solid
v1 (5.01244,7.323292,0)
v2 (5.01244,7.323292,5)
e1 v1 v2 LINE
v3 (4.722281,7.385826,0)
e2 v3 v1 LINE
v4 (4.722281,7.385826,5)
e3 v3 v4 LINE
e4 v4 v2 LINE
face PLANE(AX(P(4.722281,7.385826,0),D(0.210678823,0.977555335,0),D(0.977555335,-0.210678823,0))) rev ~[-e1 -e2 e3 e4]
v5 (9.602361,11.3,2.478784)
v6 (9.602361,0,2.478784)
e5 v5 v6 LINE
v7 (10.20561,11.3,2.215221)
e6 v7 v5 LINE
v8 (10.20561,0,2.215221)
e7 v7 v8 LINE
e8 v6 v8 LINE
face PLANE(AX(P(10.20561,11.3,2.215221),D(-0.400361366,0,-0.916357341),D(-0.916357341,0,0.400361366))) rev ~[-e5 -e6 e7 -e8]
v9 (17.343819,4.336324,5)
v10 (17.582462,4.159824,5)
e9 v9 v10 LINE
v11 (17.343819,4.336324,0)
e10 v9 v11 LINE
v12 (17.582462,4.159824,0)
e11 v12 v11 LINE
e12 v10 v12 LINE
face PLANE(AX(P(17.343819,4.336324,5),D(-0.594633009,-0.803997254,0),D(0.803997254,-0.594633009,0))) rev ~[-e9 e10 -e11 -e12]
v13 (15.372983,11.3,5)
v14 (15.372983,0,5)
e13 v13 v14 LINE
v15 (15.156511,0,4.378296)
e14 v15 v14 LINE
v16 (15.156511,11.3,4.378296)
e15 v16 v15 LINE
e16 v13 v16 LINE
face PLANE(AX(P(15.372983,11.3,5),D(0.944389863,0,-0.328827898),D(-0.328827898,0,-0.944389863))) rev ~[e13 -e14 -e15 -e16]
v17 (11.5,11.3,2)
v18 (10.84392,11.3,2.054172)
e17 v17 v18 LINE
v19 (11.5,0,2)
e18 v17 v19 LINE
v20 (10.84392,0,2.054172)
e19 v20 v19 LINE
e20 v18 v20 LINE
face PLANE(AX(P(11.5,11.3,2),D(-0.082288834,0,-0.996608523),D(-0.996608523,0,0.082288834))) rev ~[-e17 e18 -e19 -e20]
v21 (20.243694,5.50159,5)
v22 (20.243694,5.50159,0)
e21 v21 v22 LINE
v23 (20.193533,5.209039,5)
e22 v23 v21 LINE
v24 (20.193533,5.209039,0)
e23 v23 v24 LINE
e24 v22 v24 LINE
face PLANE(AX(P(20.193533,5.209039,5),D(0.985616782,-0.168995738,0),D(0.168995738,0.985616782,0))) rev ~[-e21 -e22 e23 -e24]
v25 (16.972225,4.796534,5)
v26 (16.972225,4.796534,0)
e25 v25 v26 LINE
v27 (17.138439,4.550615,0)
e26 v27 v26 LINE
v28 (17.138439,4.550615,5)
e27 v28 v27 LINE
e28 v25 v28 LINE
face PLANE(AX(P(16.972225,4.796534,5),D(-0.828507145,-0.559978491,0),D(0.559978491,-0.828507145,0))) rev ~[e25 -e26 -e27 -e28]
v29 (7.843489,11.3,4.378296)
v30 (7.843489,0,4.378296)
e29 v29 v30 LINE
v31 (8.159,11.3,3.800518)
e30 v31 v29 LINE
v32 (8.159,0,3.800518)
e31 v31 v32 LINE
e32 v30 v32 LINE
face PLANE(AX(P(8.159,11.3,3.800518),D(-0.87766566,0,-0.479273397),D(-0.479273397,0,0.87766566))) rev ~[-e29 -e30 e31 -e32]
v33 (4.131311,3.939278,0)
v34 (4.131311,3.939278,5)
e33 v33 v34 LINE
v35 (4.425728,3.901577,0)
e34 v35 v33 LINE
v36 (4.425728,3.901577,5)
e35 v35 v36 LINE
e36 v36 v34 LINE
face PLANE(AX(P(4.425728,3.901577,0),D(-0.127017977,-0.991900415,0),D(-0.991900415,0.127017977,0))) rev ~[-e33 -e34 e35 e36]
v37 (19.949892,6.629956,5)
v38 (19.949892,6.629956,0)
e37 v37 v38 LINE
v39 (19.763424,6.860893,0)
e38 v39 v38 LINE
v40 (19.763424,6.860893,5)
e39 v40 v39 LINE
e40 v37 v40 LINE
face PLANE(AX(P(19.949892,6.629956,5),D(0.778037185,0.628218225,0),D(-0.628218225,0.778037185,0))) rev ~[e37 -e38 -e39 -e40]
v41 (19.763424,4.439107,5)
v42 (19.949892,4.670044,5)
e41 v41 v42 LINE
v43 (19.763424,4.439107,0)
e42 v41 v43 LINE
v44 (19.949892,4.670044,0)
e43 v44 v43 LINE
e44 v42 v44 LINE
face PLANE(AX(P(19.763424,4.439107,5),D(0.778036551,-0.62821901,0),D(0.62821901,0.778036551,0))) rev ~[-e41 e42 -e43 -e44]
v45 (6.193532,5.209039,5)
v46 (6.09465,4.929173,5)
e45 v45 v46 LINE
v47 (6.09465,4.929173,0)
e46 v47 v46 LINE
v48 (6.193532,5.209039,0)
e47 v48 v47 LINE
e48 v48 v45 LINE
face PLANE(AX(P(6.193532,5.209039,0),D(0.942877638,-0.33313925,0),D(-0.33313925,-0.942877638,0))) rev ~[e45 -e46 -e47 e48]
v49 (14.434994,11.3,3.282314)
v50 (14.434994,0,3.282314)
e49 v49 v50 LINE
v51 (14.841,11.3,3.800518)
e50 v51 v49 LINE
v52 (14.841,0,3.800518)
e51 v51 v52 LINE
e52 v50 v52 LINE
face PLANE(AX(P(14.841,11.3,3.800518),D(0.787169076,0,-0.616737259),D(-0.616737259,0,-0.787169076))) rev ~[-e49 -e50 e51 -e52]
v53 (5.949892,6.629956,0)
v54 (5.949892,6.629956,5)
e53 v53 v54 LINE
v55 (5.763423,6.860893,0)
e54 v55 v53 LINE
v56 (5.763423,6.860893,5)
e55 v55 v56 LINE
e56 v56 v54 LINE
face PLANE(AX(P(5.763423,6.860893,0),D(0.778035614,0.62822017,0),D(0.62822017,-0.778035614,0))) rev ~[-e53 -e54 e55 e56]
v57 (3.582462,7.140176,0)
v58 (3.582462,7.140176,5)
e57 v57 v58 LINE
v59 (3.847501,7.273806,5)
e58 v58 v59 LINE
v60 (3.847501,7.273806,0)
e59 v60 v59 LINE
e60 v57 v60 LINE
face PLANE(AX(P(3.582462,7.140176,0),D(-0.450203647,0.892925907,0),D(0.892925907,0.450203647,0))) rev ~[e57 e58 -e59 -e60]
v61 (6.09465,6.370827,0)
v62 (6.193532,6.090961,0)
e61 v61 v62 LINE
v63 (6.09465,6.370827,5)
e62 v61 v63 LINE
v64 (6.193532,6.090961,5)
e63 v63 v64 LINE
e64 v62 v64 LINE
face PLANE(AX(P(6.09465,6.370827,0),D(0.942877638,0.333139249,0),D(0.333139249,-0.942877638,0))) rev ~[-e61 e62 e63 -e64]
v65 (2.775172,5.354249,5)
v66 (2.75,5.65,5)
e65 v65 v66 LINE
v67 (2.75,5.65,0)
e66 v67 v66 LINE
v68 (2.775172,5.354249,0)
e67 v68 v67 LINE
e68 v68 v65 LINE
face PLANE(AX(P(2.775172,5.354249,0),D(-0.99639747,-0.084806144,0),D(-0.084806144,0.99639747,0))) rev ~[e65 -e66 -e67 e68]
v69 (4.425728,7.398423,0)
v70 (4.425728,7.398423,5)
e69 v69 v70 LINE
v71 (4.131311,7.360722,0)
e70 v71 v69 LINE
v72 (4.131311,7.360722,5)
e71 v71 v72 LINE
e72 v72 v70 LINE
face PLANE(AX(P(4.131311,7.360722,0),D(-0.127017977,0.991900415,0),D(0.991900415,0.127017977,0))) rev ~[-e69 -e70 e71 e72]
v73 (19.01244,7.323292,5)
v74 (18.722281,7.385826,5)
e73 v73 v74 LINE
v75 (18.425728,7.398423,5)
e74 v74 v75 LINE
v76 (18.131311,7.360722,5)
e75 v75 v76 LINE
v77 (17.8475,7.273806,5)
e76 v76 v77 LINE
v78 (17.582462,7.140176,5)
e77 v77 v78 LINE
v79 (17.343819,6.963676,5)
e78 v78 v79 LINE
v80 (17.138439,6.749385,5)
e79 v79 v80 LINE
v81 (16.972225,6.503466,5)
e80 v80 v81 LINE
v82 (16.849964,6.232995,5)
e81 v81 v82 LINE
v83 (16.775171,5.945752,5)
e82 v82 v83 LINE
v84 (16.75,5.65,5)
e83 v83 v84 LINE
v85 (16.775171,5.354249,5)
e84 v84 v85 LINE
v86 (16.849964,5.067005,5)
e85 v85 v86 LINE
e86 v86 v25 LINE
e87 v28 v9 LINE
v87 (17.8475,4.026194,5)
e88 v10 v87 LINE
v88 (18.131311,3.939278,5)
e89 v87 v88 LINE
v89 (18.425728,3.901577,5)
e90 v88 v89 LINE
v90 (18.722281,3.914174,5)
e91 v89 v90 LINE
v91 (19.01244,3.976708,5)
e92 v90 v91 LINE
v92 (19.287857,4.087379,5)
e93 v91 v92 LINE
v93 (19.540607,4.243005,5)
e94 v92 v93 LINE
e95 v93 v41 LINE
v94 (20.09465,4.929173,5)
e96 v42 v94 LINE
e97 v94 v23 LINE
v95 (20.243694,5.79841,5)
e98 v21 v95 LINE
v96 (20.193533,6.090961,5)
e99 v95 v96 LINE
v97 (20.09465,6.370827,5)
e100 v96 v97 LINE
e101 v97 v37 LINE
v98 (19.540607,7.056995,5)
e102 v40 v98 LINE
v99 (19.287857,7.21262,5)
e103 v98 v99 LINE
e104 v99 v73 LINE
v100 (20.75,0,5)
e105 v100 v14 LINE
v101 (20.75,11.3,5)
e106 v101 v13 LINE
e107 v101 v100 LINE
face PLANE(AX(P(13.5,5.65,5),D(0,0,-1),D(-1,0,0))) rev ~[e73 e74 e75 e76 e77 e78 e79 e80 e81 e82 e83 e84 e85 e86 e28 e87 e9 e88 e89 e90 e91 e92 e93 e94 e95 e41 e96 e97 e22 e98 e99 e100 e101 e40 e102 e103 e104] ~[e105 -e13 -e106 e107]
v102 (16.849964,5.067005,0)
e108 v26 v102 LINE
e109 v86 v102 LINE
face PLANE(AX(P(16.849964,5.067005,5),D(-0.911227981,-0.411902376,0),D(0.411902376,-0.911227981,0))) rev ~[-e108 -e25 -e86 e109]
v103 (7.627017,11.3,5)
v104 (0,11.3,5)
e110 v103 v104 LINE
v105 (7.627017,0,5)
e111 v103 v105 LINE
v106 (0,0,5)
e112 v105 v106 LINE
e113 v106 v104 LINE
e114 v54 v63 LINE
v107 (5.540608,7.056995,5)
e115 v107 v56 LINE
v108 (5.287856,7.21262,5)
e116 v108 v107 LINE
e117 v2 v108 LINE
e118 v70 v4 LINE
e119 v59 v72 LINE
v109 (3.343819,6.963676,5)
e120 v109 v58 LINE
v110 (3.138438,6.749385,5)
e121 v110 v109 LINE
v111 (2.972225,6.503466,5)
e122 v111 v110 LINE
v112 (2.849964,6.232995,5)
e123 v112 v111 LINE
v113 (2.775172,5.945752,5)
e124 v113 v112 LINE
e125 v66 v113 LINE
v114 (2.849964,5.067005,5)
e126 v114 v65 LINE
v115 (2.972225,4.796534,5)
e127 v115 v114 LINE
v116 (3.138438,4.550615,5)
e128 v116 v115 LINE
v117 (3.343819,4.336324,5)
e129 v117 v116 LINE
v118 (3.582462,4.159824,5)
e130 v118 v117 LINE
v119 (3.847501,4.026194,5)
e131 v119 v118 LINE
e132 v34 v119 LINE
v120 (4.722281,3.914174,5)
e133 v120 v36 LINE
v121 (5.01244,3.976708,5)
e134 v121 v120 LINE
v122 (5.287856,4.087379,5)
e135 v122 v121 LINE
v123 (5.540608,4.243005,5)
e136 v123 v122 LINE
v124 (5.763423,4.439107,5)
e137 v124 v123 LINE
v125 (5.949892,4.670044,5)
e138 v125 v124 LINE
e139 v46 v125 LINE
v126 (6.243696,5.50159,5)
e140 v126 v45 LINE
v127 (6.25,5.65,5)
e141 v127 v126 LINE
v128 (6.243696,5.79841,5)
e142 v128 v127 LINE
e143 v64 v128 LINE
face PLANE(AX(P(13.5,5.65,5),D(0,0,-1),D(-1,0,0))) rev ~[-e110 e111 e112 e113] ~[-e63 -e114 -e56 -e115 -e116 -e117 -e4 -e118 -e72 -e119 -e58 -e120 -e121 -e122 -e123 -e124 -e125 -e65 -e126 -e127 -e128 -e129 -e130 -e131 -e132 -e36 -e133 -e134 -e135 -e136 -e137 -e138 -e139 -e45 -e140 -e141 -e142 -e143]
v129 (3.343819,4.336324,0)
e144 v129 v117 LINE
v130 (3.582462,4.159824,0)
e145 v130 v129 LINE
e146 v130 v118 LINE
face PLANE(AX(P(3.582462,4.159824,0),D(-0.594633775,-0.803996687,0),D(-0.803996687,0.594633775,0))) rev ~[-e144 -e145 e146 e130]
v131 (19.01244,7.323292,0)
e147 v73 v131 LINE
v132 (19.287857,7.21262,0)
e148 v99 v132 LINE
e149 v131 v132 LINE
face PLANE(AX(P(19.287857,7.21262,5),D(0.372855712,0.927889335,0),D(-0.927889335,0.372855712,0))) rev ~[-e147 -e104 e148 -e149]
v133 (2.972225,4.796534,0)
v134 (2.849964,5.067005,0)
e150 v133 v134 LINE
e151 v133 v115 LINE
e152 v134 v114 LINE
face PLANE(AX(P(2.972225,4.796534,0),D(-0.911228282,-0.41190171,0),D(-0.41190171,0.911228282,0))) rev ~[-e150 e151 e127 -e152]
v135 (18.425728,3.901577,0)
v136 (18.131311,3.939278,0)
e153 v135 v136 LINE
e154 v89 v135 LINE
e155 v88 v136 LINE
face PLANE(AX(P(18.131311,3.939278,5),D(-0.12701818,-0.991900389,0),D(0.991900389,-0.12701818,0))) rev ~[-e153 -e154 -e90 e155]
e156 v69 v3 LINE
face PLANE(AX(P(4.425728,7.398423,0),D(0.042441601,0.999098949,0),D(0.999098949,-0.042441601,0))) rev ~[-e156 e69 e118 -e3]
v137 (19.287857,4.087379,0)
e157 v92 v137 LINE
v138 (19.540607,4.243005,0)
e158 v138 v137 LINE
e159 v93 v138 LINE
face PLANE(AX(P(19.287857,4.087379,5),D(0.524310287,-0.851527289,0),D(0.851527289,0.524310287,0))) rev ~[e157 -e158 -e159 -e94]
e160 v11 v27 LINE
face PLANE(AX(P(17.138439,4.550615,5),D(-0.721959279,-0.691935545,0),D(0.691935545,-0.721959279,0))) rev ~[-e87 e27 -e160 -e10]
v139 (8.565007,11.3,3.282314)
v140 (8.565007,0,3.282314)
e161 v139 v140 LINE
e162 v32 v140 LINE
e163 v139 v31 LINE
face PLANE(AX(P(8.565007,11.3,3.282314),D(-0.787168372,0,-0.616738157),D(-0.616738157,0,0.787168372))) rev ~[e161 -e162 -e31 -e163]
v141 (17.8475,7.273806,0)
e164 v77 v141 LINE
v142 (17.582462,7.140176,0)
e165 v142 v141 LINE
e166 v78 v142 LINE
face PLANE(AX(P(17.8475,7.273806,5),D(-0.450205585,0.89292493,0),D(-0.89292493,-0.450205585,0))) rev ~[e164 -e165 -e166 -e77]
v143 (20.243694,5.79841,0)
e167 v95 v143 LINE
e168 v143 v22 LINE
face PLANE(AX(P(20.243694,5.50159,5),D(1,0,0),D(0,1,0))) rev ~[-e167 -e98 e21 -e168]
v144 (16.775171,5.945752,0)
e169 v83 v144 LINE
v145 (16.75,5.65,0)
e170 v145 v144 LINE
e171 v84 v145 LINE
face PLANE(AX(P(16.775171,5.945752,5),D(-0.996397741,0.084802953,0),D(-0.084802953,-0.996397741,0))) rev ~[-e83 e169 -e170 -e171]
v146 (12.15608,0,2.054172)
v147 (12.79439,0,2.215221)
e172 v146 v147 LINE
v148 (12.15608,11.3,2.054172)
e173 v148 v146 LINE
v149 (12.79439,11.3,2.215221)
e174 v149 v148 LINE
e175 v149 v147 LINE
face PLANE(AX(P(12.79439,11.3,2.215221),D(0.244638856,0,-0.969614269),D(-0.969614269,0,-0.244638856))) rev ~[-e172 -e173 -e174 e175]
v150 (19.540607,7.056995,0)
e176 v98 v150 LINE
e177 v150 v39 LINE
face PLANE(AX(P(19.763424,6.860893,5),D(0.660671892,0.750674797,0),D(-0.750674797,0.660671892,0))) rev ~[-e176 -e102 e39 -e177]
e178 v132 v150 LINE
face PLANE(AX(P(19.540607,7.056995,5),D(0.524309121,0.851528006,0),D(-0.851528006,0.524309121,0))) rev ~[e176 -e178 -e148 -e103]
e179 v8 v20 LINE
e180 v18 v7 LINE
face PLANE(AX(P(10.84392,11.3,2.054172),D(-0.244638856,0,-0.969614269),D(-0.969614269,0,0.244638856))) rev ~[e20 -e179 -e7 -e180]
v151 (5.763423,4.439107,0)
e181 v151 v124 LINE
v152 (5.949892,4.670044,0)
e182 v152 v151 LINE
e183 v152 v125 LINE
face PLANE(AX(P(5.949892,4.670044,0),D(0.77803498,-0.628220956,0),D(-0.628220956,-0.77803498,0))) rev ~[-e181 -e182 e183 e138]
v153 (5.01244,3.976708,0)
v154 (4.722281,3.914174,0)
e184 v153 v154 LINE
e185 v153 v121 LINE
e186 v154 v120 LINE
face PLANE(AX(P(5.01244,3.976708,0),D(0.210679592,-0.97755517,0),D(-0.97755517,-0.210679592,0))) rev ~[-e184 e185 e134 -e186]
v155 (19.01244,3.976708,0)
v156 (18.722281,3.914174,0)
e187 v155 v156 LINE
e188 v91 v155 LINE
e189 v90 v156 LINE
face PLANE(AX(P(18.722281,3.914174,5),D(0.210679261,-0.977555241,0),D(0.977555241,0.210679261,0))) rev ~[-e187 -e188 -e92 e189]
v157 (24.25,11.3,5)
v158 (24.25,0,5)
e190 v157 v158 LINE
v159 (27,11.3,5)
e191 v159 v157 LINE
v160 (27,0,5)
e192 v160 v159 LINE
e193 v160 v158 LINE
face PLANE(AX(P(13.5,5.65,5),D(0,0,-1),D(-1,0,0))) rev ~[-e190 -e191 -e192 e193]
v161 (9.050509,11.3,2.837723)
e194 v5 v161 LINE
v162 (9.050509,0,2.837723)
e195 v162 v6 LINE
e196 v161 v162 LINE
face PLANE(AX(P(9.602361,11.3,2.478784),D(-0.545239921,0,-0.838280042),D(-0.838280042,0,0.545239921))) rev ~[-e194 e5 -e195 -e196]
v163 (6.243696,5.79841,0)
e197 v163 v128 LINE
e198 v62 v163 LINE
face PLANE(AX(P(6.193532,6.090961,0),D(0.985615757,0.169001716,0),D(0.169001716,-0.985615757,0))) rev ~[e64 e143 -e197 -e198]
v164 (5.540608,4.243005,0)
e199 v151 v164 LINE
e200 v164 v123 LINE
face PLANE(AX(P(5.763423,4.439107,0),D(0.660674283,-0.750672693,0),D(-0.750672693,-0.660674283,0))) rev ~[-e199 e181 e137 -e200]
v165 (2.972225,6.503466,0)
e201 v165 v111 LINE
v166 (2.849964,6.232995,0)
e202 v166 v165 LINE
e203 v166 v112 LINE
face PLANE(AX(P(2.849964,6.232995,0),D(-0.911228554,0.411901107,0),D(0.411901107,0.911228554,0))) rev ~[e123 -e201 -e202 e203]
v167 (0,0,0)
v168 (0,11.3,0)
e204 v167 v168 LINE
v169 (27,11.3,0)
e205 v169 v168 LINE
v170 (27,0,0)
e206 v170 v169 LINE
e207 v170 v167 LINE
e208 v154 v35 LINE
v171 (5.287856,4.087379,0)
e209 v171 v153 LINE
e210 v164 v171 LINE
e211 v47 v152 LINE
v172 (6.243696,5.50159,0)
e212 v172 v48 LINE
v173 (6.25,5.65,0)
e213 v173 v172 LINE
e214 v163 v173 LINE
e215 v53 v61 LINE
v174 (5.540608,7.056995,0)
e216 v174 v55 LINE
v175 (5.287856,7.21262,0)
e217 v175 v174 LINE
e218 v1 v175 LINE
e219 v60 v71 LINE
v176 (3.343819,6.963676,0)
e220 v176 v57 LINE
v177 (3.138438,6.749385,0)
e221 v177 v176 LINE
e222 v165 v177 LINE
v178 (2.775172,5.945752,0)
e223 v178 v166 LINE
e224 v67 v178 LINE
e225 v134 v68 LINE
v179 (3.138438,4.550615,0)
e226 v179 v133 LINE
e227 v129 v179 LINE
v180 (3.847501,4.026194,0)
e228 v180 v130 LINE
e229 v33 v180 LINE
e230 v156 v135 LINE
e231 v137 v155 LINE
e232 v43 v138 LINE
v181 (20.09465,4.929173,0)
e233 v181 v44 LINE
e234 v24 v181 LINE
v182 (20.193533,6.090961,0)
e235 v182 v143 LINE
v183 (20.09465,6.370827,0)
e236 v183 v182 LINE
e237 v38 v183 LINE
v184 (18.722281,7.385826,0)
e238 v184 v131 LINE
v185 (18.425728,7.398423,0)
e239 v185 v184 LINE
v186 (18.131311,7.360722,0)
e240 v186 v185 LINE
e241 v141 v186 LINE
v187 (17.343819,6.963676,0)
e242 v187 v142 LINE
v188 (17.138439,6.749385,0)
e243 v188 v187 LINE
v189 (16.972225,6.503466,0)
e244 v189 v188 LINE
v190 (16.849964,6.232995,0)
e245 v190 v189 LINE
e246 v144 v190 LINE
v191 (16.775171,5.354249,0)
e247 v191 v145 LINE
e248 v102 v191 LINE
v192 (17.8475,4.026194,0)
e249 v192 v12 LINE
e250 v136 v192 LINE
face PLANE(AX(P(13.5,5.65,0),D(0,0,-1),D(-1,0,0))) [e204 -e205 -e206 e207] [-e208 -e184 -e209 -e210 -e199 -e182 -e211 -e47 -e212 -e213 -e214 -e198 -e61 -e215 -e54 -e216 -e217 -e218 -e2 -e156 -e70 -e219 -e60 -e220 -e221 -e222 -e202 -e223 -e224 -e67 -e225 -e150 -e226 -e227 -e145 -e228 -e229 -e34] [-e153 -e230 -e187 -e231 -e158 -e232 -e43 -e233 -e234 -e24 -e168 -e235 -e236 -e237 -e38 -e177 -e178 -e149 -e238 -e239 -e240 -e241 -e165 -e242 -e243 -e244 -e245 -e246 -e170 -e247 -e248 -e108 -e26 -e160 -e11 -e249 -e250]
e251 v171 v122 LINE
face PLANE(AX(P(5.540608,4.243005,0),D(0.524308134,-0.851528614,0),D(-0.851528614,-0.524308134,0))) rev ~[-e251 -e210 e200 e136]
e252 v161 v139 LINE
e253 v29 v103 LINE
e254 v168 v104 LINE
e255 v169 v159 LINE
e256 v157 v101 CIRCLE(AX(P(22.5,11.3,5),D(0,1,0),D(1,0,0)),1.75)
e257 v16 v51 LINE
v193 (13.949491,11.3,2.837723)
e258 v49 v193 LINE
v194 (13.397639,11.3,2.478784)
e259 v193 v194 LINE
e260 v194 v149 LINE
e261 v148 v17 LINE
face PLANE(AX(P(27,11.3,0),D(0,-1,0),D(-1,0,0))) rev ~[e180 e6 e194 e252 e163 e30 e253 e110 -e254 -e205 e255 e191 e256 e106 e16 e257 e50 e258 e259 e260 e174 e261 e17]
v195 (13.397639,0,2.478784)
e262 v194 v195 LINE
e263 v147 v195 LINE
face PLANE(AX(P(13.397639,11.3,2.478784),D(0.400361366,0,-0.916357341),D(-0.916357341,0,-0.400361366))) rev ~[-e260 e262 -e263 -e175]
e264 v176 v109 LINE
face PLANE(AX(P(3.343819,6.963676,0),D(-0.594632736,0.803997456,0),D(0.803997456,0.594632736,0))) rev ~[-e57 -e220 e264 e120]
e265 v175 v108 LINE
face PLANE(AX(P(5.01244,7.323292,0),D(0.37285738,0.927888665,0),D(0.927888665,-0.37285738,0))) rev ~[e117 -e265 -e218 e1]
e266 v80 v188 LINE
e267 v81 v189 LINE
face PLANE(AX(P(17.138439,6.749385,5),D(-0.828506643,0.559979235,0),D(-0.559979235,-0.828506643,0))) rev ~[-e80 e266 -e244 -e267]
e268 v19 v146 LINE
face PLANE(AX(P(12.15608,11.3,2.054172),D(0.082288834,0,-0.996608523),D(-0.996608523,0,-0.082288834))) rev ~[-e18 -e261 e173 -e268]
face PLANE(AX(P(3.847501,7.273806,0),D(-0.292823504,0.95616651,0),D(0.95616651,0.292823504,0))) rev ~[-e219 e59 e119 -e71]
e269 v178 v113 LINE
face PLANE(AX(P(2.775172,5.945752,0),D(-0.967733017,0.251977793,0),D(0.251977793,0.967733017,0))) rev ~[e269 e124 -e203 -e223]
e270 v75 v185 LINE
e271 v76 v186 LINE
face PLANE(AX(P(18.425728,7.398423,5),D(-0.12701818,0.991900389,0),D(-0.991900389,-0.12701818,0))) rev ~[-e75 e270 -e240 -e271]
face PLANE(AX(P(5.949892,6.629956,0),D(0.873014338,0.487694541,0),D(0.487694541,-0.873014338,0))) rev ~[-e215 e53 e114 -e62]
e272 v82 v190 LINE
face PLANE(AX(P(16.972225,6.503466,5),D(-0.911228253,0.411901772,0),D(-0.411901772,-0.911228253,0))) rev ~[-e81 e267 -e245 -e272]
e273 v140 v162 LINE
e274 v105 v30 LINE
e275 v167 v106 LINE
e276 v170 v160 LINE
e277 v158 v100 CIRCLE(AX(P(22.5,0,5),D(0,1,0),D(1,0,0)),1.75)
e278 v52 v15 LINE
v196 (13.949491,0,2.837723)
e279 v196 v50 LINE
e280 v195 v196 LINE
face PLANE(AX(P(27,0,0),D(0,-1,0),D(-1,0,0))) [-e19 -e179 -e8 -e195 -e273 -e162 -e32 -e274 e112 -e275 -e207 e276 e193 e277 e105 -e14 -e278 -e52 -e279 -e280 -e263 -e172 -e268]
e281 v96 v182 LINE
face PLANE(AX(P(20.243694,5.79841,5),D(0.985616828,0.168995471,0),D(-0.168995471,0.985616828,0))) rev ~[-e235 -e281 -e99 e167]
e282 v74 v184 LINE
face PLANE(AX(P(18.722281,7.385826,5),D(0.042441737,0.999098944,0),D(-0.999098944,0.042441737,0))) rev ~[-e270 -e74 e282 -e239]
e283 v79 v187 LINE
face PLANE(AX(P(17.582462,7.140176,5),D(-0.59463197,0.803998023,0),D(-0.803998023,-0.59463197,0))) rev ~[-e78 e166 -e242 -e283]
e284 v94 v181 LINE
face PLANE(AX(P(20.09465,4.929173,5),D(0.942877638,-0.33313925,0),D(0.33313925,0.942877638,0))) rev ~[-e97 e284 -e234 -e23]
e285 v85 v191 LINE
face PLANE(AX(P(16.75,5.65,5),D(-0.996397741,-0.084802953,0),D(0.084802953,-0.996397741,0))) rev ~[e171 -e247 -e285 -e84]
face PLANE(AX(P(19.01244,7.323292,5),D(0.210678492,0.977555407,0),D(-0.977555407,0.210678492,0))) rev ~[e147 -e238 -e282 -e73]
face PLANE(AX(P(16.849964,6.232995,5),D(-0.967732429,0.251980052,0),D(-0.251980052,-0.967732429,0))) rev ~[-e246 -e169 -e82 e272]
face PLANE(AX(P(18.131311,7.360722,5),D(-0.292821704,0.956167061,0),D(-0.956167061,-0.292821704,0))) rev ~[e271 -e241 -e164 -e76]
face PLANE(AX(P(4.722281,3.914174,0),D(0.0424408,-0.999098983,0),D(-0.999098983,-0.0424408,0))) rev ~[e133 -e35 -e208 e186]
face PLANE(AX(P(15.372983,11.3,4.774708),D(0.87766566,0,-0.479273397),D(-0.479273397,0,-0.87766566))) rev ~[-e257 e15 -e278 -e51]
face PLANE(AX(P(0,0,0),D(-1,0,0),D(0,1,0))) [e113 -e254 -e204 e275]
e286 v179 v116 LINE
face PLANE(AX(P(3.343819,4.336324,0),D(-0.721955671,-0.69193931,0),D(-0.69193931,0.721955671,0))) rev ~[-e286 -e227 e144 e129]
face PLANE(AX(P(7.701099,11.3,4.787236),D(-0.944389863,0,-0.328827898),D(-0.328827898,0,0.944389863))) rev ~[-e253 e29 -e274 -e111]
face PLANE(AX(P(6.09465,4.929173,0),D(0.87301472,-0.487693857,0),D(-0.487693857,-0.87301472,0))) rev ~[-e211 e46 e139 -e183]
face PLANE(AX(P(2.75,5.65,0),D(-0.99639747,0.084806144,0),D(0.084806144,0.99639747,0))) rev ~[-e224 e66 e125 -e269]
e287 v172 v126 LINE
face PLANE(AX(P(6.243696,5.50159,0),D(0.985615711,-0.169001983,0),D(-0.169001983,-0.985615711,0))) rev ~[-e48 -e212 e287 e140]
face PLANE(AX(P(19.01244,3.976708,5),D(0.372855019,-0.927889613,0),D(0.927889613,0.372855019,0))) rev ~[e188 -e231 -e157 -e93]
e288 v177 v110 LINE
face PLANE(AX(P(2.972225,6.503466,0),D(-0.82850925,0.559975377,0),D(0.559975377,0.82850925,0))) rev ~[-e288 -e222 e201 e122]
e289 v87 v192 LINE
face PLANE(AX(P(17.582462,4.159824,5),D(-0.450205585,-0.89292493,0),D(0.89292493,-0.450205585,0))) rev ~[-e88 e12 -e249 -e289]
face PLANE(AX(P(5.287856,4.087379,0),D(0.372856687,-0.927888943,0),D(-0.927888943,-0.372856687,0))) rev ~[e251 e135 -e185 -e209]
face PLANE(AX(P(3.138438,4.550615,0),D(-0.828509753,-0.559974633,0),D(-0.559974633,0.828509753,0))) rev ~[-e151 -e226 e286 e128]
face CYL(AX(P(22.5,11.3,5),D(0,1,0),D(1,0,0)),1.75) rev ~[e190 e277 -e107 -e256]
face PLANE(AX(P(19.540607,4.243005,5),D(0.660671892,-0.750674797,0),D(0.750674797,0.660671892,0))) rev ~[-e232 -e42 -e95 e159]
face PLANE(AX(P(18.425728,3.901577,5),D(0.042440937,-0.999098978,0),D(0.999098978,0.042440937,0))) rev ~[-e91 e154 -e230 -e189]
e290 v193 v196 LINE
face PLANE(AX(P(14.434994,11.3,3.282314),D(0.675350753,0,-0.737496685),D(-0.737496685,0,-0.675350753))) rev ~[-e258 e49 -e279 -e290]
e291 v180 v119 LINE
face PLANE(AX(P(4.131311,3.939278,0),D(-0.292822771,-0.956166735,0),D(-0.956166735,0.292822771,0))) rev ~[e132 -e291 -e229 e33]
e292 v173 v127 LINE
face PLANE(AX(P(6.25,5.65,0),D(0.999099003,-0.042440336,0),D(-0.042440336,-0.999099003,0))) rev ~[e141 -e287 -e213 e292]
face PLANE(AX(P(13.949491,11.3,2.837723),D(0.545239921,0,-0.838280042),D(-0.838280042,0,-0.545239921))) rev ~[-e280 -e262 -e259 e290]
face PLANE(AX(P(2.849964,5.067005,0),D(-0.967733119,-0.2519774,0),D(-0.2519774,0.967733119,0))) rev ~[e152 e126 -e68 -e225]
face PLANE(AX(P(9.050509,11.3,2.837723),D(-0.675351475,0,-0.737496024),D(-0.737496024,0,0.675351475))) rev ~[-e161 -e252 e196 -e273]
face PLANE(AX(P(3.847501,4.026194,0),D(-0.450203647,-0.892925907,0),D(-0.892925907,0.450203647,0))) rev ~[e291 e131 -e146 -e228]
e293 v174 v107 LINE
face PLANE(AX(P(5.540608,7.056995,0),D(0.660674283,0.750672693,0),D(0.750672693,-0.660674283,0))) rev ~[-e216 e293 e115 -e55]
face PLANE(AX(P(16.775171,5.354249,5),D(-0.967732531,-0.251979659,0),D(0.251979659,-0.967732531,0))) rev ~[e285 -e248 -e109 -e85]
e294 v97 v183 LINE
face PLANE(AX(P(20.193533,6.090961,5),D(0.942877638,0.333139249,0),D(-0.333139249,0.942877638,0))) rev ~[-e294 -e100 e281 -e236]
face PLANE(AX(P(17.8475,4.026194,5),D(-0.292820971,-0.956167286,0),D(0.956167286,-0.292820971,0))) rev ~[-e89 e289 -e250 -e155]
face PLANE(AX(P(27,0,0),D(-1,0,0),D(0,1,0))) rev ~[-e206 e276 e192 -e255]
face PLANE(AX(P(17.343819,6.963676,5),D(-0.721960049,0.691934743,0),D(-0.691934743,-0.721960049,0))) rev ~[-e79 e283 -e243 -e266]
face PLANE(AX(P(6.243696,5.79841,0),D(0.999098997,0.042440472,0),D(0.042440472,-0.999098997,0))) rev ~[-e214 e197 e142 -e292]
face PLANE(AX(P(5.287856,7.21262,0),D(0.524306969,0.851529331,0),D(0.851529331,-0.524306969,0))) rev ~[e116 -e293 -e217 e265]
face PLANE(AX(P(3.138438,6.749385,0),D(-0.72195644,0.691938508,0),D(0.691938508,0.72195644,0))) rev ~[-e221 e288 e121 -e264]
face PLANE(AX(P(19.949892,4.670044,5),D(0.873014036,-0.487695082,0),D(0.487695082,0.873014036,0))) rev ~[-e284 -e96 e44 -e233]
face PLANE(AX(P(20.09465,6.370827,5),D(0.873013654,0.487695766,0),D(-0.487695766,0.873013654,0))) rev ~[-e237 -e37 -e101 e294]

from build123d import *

# Parameters (mm, degrees)
ESQUISSE1_W             = 27
ESQUISSE1_H             = 11.300000191
BOSS_EXTRU_1_DEPTH      = 5
ENL_V_MAT_EXTRU_1_DEPTH = 30.693265302
ENL_V_MAT_EXTRU_2_DEPTH = 30.693265302
ENL_V_MAT_EXTRU_3_DEPTH = 30.693265302
ENL_V_MAT_EXTRU_4_DEPTH = 30.693265302
D_POUILLE1_ANGLE        = 19.197649098
D_POUILLE2_ANGLE        = 19.197649098


with BuildPart() as part:
    # Esquisse1 → Boss.-Extru.1 (new body)
    with BuildSketch(Plane(origin=(0, 0, 0), x_dir=(-1, 0, 0), z_dir=(0, 0, -1))):
        with Locations((-13.5, 5.650000096)):
            Rectangle(ESQUISSE1_W, ESQUISSE1_H)
    extrude(amount=-BOSS_EXTRU_1_DEPTH)

    # Esquisse2 → Enlèv. mat.-Extru.1 (cut, through all)
    with BuildSketch(Plane(origin=(0, 11.300000191, 0), x_dir=(-1, 0, 0), z_dir=(0, 1, 0))):
        Polygon((-15.372982979, 5), (-15.372982979, 4.774707955), (-14.840999603, 3.800517559), (-14.434993744, 3.282314301), (-13.949490547, 2.83772254), (-13.397639275, 2.478783607), (-12.794389725, 2.21522069), (-12.156080246, 2.054171801), (-11.5, 2), (-10.843919754, 2.054171801), (-10.205610275, 2.21522069), (-9.602360725, 2.478783607), (-9.050509453, 2.83772254), (-8.56500721, 3.282314301), (-8.159000397, 3.800517559), (-7.627017021, 4.774707955), (-7.627017021, 5), align=None)
    extrude(amount=-ENL_V_MAT_EXTRU_1_DEPTH, mode=Mode.SUBTRACT)

    # Esquisse3 → Enlèv. mat.-Extru.2 (cut, through all)
    with BuildSketch(Plane(origin=(0, 11.300000191, 0), x_dir=(-1, 0, 0), z_dir=(0, 1, 0))):
        with BuildLine():
            Line((-20.75, 5), (-24.25, 5))
            ThreePointArc((-24.25, 5), (-22.5, 3.25), (-20.75, 5))
        make_face()
    extrude(amount=-ENL_V_MAT_EXTRU_2_DEPTH, mode=Mode.SUBTRACT)

    # Esquisse4 → Enlèv. mat.-Extru.3 (cut, through all)
    with BuildSketch(Plane(origin=(0, 0, 0), x_dir=(-1, 0, 0), z_dir=(0, 0, -1))):
        Polygon((-2.75, 5.650000095), (-2.775172234, 5.945751667), (-2.84996438, 6.232994556), (-2.972225189, 6.503466129), (-3.13843751, 6.74938488), (-3.343819141, 6.963676453), (-3.582462311, 7.140175819), (-3.847501278, 7.273805618), (-4.13131094, 7.360721588), (-4.425727844, 7.398423195), (-4.722281456, 7.385825634), (-5.012440205, 7.323291779), (-5.287856102, 7.212620258), (-5.540607929, 7.056994915), (-5.763422966, 6.86089325), (-5.949892044, 6.629955769), (-6.094649792, 6.370827198), (-6.193532467, 6.090961456), (-6.243695736, 5.798409939), (-6.25, 5.650000095), (-6.243695736, 5.501589775), (-6.193532467, 5.209038734), (-6.094649792, 4.929172993), (-5.949892044, 4.670043945), (-5.763422966, 4.439106941), (-5.540607929, 4.243005276), (-5.287856102, 4.087379456), (-5.012440205, 3.976708174), (-4.722281456, 3.91417408), (-4.425727844, 3.901576757), (-4.13131094, 3.939278364), (-3.847501278, 4.026194096), (-3.582462311, 4.159823895), (-3.343819141, 4.336323738), (-3.13843751, 4.550614834), (-2.972225189, 4.796534061), (-2.84996438, 5.067005157), (-2.775172234, 5.354248524), align=None)
    extrude(amount=-ENL_V_MAT_EXTRU_3_DEPTH, mode=Mode.SUBTRACT)

    # Esquisse5 → Enlèv. mat.-Extru.4 (cut, through all)
    with BuildSketch(Plane.XY.offset(5)):
        Polygon((16.77517128, 5.354248524), (16.849964142, 5.067005157), (16.972225189, 4.796534061), (17.138439178, 4.550614834), (17.343818665, 4.336323738), (17.582462311, 4.159823895), (17.847499847, 4.026194096), (18.131311417, 3.939278364), (18.425727844, 3.901576757), (18.722280502, 3.91417408), (19.012439728, 3.976708174), (19.287857056, 4.087379456), (19.540607452, 4.243005276), (19.76342392, 4.439106941), (19.949892044, 4.670043945), (20.094650269, 4.929172993), (20.193532944, 5.209038734), (20.243694305, 5.501589775), (20.243694305, 5.798409939), (20.193532944, 6.090961456), (20.094650269, 6.370827198), (19.949892044, 6.629955769), (19.76342392, 6.86089325), (19.540607452, 7.056994915), (19.287857056, 7.212620258), (19.012439728, 7.323291779), (18.722280502, 7.385825634), (18.425727844, 7.398423195), (18.131311417, 7.360721588), (17.847499847, 7.273805618), (17.582462311, 7.140175819), (17.343818665, 6.963676453), (17.138439178, 6.74938488), (16.972225189, 6.503466129), (16.849964142, 6.232994556), (16.77517128, 5.945751667), (16.75, 5.650000095), align=None)
    extrude(amount=-ENL_V_MAT_EXTRU_4_DEPTH, mode=Mode.SUBTRACT)

    # Dépouille1
    d_pouille1_faces = [part.faces().sort_by_distance(p)[0] for p in [
        (7.627017021, 5.650000095, 4.887353977),
    ]]
    draft(d_pouille1_faces, Plane.XY.offset(5), D_POUILLE1_ANGLE)

    # Dépouille2
    d_pouille2_faces = [part.faces().sort_by_distance(p)[0] for p in [
        (15.372982979, 5.650000095, 4.887353977),
    ]]
    draft(d_pouille2_faces, Plane.XY.offset(5), D_POUILLE2_ANGLE)


solid = part.part
